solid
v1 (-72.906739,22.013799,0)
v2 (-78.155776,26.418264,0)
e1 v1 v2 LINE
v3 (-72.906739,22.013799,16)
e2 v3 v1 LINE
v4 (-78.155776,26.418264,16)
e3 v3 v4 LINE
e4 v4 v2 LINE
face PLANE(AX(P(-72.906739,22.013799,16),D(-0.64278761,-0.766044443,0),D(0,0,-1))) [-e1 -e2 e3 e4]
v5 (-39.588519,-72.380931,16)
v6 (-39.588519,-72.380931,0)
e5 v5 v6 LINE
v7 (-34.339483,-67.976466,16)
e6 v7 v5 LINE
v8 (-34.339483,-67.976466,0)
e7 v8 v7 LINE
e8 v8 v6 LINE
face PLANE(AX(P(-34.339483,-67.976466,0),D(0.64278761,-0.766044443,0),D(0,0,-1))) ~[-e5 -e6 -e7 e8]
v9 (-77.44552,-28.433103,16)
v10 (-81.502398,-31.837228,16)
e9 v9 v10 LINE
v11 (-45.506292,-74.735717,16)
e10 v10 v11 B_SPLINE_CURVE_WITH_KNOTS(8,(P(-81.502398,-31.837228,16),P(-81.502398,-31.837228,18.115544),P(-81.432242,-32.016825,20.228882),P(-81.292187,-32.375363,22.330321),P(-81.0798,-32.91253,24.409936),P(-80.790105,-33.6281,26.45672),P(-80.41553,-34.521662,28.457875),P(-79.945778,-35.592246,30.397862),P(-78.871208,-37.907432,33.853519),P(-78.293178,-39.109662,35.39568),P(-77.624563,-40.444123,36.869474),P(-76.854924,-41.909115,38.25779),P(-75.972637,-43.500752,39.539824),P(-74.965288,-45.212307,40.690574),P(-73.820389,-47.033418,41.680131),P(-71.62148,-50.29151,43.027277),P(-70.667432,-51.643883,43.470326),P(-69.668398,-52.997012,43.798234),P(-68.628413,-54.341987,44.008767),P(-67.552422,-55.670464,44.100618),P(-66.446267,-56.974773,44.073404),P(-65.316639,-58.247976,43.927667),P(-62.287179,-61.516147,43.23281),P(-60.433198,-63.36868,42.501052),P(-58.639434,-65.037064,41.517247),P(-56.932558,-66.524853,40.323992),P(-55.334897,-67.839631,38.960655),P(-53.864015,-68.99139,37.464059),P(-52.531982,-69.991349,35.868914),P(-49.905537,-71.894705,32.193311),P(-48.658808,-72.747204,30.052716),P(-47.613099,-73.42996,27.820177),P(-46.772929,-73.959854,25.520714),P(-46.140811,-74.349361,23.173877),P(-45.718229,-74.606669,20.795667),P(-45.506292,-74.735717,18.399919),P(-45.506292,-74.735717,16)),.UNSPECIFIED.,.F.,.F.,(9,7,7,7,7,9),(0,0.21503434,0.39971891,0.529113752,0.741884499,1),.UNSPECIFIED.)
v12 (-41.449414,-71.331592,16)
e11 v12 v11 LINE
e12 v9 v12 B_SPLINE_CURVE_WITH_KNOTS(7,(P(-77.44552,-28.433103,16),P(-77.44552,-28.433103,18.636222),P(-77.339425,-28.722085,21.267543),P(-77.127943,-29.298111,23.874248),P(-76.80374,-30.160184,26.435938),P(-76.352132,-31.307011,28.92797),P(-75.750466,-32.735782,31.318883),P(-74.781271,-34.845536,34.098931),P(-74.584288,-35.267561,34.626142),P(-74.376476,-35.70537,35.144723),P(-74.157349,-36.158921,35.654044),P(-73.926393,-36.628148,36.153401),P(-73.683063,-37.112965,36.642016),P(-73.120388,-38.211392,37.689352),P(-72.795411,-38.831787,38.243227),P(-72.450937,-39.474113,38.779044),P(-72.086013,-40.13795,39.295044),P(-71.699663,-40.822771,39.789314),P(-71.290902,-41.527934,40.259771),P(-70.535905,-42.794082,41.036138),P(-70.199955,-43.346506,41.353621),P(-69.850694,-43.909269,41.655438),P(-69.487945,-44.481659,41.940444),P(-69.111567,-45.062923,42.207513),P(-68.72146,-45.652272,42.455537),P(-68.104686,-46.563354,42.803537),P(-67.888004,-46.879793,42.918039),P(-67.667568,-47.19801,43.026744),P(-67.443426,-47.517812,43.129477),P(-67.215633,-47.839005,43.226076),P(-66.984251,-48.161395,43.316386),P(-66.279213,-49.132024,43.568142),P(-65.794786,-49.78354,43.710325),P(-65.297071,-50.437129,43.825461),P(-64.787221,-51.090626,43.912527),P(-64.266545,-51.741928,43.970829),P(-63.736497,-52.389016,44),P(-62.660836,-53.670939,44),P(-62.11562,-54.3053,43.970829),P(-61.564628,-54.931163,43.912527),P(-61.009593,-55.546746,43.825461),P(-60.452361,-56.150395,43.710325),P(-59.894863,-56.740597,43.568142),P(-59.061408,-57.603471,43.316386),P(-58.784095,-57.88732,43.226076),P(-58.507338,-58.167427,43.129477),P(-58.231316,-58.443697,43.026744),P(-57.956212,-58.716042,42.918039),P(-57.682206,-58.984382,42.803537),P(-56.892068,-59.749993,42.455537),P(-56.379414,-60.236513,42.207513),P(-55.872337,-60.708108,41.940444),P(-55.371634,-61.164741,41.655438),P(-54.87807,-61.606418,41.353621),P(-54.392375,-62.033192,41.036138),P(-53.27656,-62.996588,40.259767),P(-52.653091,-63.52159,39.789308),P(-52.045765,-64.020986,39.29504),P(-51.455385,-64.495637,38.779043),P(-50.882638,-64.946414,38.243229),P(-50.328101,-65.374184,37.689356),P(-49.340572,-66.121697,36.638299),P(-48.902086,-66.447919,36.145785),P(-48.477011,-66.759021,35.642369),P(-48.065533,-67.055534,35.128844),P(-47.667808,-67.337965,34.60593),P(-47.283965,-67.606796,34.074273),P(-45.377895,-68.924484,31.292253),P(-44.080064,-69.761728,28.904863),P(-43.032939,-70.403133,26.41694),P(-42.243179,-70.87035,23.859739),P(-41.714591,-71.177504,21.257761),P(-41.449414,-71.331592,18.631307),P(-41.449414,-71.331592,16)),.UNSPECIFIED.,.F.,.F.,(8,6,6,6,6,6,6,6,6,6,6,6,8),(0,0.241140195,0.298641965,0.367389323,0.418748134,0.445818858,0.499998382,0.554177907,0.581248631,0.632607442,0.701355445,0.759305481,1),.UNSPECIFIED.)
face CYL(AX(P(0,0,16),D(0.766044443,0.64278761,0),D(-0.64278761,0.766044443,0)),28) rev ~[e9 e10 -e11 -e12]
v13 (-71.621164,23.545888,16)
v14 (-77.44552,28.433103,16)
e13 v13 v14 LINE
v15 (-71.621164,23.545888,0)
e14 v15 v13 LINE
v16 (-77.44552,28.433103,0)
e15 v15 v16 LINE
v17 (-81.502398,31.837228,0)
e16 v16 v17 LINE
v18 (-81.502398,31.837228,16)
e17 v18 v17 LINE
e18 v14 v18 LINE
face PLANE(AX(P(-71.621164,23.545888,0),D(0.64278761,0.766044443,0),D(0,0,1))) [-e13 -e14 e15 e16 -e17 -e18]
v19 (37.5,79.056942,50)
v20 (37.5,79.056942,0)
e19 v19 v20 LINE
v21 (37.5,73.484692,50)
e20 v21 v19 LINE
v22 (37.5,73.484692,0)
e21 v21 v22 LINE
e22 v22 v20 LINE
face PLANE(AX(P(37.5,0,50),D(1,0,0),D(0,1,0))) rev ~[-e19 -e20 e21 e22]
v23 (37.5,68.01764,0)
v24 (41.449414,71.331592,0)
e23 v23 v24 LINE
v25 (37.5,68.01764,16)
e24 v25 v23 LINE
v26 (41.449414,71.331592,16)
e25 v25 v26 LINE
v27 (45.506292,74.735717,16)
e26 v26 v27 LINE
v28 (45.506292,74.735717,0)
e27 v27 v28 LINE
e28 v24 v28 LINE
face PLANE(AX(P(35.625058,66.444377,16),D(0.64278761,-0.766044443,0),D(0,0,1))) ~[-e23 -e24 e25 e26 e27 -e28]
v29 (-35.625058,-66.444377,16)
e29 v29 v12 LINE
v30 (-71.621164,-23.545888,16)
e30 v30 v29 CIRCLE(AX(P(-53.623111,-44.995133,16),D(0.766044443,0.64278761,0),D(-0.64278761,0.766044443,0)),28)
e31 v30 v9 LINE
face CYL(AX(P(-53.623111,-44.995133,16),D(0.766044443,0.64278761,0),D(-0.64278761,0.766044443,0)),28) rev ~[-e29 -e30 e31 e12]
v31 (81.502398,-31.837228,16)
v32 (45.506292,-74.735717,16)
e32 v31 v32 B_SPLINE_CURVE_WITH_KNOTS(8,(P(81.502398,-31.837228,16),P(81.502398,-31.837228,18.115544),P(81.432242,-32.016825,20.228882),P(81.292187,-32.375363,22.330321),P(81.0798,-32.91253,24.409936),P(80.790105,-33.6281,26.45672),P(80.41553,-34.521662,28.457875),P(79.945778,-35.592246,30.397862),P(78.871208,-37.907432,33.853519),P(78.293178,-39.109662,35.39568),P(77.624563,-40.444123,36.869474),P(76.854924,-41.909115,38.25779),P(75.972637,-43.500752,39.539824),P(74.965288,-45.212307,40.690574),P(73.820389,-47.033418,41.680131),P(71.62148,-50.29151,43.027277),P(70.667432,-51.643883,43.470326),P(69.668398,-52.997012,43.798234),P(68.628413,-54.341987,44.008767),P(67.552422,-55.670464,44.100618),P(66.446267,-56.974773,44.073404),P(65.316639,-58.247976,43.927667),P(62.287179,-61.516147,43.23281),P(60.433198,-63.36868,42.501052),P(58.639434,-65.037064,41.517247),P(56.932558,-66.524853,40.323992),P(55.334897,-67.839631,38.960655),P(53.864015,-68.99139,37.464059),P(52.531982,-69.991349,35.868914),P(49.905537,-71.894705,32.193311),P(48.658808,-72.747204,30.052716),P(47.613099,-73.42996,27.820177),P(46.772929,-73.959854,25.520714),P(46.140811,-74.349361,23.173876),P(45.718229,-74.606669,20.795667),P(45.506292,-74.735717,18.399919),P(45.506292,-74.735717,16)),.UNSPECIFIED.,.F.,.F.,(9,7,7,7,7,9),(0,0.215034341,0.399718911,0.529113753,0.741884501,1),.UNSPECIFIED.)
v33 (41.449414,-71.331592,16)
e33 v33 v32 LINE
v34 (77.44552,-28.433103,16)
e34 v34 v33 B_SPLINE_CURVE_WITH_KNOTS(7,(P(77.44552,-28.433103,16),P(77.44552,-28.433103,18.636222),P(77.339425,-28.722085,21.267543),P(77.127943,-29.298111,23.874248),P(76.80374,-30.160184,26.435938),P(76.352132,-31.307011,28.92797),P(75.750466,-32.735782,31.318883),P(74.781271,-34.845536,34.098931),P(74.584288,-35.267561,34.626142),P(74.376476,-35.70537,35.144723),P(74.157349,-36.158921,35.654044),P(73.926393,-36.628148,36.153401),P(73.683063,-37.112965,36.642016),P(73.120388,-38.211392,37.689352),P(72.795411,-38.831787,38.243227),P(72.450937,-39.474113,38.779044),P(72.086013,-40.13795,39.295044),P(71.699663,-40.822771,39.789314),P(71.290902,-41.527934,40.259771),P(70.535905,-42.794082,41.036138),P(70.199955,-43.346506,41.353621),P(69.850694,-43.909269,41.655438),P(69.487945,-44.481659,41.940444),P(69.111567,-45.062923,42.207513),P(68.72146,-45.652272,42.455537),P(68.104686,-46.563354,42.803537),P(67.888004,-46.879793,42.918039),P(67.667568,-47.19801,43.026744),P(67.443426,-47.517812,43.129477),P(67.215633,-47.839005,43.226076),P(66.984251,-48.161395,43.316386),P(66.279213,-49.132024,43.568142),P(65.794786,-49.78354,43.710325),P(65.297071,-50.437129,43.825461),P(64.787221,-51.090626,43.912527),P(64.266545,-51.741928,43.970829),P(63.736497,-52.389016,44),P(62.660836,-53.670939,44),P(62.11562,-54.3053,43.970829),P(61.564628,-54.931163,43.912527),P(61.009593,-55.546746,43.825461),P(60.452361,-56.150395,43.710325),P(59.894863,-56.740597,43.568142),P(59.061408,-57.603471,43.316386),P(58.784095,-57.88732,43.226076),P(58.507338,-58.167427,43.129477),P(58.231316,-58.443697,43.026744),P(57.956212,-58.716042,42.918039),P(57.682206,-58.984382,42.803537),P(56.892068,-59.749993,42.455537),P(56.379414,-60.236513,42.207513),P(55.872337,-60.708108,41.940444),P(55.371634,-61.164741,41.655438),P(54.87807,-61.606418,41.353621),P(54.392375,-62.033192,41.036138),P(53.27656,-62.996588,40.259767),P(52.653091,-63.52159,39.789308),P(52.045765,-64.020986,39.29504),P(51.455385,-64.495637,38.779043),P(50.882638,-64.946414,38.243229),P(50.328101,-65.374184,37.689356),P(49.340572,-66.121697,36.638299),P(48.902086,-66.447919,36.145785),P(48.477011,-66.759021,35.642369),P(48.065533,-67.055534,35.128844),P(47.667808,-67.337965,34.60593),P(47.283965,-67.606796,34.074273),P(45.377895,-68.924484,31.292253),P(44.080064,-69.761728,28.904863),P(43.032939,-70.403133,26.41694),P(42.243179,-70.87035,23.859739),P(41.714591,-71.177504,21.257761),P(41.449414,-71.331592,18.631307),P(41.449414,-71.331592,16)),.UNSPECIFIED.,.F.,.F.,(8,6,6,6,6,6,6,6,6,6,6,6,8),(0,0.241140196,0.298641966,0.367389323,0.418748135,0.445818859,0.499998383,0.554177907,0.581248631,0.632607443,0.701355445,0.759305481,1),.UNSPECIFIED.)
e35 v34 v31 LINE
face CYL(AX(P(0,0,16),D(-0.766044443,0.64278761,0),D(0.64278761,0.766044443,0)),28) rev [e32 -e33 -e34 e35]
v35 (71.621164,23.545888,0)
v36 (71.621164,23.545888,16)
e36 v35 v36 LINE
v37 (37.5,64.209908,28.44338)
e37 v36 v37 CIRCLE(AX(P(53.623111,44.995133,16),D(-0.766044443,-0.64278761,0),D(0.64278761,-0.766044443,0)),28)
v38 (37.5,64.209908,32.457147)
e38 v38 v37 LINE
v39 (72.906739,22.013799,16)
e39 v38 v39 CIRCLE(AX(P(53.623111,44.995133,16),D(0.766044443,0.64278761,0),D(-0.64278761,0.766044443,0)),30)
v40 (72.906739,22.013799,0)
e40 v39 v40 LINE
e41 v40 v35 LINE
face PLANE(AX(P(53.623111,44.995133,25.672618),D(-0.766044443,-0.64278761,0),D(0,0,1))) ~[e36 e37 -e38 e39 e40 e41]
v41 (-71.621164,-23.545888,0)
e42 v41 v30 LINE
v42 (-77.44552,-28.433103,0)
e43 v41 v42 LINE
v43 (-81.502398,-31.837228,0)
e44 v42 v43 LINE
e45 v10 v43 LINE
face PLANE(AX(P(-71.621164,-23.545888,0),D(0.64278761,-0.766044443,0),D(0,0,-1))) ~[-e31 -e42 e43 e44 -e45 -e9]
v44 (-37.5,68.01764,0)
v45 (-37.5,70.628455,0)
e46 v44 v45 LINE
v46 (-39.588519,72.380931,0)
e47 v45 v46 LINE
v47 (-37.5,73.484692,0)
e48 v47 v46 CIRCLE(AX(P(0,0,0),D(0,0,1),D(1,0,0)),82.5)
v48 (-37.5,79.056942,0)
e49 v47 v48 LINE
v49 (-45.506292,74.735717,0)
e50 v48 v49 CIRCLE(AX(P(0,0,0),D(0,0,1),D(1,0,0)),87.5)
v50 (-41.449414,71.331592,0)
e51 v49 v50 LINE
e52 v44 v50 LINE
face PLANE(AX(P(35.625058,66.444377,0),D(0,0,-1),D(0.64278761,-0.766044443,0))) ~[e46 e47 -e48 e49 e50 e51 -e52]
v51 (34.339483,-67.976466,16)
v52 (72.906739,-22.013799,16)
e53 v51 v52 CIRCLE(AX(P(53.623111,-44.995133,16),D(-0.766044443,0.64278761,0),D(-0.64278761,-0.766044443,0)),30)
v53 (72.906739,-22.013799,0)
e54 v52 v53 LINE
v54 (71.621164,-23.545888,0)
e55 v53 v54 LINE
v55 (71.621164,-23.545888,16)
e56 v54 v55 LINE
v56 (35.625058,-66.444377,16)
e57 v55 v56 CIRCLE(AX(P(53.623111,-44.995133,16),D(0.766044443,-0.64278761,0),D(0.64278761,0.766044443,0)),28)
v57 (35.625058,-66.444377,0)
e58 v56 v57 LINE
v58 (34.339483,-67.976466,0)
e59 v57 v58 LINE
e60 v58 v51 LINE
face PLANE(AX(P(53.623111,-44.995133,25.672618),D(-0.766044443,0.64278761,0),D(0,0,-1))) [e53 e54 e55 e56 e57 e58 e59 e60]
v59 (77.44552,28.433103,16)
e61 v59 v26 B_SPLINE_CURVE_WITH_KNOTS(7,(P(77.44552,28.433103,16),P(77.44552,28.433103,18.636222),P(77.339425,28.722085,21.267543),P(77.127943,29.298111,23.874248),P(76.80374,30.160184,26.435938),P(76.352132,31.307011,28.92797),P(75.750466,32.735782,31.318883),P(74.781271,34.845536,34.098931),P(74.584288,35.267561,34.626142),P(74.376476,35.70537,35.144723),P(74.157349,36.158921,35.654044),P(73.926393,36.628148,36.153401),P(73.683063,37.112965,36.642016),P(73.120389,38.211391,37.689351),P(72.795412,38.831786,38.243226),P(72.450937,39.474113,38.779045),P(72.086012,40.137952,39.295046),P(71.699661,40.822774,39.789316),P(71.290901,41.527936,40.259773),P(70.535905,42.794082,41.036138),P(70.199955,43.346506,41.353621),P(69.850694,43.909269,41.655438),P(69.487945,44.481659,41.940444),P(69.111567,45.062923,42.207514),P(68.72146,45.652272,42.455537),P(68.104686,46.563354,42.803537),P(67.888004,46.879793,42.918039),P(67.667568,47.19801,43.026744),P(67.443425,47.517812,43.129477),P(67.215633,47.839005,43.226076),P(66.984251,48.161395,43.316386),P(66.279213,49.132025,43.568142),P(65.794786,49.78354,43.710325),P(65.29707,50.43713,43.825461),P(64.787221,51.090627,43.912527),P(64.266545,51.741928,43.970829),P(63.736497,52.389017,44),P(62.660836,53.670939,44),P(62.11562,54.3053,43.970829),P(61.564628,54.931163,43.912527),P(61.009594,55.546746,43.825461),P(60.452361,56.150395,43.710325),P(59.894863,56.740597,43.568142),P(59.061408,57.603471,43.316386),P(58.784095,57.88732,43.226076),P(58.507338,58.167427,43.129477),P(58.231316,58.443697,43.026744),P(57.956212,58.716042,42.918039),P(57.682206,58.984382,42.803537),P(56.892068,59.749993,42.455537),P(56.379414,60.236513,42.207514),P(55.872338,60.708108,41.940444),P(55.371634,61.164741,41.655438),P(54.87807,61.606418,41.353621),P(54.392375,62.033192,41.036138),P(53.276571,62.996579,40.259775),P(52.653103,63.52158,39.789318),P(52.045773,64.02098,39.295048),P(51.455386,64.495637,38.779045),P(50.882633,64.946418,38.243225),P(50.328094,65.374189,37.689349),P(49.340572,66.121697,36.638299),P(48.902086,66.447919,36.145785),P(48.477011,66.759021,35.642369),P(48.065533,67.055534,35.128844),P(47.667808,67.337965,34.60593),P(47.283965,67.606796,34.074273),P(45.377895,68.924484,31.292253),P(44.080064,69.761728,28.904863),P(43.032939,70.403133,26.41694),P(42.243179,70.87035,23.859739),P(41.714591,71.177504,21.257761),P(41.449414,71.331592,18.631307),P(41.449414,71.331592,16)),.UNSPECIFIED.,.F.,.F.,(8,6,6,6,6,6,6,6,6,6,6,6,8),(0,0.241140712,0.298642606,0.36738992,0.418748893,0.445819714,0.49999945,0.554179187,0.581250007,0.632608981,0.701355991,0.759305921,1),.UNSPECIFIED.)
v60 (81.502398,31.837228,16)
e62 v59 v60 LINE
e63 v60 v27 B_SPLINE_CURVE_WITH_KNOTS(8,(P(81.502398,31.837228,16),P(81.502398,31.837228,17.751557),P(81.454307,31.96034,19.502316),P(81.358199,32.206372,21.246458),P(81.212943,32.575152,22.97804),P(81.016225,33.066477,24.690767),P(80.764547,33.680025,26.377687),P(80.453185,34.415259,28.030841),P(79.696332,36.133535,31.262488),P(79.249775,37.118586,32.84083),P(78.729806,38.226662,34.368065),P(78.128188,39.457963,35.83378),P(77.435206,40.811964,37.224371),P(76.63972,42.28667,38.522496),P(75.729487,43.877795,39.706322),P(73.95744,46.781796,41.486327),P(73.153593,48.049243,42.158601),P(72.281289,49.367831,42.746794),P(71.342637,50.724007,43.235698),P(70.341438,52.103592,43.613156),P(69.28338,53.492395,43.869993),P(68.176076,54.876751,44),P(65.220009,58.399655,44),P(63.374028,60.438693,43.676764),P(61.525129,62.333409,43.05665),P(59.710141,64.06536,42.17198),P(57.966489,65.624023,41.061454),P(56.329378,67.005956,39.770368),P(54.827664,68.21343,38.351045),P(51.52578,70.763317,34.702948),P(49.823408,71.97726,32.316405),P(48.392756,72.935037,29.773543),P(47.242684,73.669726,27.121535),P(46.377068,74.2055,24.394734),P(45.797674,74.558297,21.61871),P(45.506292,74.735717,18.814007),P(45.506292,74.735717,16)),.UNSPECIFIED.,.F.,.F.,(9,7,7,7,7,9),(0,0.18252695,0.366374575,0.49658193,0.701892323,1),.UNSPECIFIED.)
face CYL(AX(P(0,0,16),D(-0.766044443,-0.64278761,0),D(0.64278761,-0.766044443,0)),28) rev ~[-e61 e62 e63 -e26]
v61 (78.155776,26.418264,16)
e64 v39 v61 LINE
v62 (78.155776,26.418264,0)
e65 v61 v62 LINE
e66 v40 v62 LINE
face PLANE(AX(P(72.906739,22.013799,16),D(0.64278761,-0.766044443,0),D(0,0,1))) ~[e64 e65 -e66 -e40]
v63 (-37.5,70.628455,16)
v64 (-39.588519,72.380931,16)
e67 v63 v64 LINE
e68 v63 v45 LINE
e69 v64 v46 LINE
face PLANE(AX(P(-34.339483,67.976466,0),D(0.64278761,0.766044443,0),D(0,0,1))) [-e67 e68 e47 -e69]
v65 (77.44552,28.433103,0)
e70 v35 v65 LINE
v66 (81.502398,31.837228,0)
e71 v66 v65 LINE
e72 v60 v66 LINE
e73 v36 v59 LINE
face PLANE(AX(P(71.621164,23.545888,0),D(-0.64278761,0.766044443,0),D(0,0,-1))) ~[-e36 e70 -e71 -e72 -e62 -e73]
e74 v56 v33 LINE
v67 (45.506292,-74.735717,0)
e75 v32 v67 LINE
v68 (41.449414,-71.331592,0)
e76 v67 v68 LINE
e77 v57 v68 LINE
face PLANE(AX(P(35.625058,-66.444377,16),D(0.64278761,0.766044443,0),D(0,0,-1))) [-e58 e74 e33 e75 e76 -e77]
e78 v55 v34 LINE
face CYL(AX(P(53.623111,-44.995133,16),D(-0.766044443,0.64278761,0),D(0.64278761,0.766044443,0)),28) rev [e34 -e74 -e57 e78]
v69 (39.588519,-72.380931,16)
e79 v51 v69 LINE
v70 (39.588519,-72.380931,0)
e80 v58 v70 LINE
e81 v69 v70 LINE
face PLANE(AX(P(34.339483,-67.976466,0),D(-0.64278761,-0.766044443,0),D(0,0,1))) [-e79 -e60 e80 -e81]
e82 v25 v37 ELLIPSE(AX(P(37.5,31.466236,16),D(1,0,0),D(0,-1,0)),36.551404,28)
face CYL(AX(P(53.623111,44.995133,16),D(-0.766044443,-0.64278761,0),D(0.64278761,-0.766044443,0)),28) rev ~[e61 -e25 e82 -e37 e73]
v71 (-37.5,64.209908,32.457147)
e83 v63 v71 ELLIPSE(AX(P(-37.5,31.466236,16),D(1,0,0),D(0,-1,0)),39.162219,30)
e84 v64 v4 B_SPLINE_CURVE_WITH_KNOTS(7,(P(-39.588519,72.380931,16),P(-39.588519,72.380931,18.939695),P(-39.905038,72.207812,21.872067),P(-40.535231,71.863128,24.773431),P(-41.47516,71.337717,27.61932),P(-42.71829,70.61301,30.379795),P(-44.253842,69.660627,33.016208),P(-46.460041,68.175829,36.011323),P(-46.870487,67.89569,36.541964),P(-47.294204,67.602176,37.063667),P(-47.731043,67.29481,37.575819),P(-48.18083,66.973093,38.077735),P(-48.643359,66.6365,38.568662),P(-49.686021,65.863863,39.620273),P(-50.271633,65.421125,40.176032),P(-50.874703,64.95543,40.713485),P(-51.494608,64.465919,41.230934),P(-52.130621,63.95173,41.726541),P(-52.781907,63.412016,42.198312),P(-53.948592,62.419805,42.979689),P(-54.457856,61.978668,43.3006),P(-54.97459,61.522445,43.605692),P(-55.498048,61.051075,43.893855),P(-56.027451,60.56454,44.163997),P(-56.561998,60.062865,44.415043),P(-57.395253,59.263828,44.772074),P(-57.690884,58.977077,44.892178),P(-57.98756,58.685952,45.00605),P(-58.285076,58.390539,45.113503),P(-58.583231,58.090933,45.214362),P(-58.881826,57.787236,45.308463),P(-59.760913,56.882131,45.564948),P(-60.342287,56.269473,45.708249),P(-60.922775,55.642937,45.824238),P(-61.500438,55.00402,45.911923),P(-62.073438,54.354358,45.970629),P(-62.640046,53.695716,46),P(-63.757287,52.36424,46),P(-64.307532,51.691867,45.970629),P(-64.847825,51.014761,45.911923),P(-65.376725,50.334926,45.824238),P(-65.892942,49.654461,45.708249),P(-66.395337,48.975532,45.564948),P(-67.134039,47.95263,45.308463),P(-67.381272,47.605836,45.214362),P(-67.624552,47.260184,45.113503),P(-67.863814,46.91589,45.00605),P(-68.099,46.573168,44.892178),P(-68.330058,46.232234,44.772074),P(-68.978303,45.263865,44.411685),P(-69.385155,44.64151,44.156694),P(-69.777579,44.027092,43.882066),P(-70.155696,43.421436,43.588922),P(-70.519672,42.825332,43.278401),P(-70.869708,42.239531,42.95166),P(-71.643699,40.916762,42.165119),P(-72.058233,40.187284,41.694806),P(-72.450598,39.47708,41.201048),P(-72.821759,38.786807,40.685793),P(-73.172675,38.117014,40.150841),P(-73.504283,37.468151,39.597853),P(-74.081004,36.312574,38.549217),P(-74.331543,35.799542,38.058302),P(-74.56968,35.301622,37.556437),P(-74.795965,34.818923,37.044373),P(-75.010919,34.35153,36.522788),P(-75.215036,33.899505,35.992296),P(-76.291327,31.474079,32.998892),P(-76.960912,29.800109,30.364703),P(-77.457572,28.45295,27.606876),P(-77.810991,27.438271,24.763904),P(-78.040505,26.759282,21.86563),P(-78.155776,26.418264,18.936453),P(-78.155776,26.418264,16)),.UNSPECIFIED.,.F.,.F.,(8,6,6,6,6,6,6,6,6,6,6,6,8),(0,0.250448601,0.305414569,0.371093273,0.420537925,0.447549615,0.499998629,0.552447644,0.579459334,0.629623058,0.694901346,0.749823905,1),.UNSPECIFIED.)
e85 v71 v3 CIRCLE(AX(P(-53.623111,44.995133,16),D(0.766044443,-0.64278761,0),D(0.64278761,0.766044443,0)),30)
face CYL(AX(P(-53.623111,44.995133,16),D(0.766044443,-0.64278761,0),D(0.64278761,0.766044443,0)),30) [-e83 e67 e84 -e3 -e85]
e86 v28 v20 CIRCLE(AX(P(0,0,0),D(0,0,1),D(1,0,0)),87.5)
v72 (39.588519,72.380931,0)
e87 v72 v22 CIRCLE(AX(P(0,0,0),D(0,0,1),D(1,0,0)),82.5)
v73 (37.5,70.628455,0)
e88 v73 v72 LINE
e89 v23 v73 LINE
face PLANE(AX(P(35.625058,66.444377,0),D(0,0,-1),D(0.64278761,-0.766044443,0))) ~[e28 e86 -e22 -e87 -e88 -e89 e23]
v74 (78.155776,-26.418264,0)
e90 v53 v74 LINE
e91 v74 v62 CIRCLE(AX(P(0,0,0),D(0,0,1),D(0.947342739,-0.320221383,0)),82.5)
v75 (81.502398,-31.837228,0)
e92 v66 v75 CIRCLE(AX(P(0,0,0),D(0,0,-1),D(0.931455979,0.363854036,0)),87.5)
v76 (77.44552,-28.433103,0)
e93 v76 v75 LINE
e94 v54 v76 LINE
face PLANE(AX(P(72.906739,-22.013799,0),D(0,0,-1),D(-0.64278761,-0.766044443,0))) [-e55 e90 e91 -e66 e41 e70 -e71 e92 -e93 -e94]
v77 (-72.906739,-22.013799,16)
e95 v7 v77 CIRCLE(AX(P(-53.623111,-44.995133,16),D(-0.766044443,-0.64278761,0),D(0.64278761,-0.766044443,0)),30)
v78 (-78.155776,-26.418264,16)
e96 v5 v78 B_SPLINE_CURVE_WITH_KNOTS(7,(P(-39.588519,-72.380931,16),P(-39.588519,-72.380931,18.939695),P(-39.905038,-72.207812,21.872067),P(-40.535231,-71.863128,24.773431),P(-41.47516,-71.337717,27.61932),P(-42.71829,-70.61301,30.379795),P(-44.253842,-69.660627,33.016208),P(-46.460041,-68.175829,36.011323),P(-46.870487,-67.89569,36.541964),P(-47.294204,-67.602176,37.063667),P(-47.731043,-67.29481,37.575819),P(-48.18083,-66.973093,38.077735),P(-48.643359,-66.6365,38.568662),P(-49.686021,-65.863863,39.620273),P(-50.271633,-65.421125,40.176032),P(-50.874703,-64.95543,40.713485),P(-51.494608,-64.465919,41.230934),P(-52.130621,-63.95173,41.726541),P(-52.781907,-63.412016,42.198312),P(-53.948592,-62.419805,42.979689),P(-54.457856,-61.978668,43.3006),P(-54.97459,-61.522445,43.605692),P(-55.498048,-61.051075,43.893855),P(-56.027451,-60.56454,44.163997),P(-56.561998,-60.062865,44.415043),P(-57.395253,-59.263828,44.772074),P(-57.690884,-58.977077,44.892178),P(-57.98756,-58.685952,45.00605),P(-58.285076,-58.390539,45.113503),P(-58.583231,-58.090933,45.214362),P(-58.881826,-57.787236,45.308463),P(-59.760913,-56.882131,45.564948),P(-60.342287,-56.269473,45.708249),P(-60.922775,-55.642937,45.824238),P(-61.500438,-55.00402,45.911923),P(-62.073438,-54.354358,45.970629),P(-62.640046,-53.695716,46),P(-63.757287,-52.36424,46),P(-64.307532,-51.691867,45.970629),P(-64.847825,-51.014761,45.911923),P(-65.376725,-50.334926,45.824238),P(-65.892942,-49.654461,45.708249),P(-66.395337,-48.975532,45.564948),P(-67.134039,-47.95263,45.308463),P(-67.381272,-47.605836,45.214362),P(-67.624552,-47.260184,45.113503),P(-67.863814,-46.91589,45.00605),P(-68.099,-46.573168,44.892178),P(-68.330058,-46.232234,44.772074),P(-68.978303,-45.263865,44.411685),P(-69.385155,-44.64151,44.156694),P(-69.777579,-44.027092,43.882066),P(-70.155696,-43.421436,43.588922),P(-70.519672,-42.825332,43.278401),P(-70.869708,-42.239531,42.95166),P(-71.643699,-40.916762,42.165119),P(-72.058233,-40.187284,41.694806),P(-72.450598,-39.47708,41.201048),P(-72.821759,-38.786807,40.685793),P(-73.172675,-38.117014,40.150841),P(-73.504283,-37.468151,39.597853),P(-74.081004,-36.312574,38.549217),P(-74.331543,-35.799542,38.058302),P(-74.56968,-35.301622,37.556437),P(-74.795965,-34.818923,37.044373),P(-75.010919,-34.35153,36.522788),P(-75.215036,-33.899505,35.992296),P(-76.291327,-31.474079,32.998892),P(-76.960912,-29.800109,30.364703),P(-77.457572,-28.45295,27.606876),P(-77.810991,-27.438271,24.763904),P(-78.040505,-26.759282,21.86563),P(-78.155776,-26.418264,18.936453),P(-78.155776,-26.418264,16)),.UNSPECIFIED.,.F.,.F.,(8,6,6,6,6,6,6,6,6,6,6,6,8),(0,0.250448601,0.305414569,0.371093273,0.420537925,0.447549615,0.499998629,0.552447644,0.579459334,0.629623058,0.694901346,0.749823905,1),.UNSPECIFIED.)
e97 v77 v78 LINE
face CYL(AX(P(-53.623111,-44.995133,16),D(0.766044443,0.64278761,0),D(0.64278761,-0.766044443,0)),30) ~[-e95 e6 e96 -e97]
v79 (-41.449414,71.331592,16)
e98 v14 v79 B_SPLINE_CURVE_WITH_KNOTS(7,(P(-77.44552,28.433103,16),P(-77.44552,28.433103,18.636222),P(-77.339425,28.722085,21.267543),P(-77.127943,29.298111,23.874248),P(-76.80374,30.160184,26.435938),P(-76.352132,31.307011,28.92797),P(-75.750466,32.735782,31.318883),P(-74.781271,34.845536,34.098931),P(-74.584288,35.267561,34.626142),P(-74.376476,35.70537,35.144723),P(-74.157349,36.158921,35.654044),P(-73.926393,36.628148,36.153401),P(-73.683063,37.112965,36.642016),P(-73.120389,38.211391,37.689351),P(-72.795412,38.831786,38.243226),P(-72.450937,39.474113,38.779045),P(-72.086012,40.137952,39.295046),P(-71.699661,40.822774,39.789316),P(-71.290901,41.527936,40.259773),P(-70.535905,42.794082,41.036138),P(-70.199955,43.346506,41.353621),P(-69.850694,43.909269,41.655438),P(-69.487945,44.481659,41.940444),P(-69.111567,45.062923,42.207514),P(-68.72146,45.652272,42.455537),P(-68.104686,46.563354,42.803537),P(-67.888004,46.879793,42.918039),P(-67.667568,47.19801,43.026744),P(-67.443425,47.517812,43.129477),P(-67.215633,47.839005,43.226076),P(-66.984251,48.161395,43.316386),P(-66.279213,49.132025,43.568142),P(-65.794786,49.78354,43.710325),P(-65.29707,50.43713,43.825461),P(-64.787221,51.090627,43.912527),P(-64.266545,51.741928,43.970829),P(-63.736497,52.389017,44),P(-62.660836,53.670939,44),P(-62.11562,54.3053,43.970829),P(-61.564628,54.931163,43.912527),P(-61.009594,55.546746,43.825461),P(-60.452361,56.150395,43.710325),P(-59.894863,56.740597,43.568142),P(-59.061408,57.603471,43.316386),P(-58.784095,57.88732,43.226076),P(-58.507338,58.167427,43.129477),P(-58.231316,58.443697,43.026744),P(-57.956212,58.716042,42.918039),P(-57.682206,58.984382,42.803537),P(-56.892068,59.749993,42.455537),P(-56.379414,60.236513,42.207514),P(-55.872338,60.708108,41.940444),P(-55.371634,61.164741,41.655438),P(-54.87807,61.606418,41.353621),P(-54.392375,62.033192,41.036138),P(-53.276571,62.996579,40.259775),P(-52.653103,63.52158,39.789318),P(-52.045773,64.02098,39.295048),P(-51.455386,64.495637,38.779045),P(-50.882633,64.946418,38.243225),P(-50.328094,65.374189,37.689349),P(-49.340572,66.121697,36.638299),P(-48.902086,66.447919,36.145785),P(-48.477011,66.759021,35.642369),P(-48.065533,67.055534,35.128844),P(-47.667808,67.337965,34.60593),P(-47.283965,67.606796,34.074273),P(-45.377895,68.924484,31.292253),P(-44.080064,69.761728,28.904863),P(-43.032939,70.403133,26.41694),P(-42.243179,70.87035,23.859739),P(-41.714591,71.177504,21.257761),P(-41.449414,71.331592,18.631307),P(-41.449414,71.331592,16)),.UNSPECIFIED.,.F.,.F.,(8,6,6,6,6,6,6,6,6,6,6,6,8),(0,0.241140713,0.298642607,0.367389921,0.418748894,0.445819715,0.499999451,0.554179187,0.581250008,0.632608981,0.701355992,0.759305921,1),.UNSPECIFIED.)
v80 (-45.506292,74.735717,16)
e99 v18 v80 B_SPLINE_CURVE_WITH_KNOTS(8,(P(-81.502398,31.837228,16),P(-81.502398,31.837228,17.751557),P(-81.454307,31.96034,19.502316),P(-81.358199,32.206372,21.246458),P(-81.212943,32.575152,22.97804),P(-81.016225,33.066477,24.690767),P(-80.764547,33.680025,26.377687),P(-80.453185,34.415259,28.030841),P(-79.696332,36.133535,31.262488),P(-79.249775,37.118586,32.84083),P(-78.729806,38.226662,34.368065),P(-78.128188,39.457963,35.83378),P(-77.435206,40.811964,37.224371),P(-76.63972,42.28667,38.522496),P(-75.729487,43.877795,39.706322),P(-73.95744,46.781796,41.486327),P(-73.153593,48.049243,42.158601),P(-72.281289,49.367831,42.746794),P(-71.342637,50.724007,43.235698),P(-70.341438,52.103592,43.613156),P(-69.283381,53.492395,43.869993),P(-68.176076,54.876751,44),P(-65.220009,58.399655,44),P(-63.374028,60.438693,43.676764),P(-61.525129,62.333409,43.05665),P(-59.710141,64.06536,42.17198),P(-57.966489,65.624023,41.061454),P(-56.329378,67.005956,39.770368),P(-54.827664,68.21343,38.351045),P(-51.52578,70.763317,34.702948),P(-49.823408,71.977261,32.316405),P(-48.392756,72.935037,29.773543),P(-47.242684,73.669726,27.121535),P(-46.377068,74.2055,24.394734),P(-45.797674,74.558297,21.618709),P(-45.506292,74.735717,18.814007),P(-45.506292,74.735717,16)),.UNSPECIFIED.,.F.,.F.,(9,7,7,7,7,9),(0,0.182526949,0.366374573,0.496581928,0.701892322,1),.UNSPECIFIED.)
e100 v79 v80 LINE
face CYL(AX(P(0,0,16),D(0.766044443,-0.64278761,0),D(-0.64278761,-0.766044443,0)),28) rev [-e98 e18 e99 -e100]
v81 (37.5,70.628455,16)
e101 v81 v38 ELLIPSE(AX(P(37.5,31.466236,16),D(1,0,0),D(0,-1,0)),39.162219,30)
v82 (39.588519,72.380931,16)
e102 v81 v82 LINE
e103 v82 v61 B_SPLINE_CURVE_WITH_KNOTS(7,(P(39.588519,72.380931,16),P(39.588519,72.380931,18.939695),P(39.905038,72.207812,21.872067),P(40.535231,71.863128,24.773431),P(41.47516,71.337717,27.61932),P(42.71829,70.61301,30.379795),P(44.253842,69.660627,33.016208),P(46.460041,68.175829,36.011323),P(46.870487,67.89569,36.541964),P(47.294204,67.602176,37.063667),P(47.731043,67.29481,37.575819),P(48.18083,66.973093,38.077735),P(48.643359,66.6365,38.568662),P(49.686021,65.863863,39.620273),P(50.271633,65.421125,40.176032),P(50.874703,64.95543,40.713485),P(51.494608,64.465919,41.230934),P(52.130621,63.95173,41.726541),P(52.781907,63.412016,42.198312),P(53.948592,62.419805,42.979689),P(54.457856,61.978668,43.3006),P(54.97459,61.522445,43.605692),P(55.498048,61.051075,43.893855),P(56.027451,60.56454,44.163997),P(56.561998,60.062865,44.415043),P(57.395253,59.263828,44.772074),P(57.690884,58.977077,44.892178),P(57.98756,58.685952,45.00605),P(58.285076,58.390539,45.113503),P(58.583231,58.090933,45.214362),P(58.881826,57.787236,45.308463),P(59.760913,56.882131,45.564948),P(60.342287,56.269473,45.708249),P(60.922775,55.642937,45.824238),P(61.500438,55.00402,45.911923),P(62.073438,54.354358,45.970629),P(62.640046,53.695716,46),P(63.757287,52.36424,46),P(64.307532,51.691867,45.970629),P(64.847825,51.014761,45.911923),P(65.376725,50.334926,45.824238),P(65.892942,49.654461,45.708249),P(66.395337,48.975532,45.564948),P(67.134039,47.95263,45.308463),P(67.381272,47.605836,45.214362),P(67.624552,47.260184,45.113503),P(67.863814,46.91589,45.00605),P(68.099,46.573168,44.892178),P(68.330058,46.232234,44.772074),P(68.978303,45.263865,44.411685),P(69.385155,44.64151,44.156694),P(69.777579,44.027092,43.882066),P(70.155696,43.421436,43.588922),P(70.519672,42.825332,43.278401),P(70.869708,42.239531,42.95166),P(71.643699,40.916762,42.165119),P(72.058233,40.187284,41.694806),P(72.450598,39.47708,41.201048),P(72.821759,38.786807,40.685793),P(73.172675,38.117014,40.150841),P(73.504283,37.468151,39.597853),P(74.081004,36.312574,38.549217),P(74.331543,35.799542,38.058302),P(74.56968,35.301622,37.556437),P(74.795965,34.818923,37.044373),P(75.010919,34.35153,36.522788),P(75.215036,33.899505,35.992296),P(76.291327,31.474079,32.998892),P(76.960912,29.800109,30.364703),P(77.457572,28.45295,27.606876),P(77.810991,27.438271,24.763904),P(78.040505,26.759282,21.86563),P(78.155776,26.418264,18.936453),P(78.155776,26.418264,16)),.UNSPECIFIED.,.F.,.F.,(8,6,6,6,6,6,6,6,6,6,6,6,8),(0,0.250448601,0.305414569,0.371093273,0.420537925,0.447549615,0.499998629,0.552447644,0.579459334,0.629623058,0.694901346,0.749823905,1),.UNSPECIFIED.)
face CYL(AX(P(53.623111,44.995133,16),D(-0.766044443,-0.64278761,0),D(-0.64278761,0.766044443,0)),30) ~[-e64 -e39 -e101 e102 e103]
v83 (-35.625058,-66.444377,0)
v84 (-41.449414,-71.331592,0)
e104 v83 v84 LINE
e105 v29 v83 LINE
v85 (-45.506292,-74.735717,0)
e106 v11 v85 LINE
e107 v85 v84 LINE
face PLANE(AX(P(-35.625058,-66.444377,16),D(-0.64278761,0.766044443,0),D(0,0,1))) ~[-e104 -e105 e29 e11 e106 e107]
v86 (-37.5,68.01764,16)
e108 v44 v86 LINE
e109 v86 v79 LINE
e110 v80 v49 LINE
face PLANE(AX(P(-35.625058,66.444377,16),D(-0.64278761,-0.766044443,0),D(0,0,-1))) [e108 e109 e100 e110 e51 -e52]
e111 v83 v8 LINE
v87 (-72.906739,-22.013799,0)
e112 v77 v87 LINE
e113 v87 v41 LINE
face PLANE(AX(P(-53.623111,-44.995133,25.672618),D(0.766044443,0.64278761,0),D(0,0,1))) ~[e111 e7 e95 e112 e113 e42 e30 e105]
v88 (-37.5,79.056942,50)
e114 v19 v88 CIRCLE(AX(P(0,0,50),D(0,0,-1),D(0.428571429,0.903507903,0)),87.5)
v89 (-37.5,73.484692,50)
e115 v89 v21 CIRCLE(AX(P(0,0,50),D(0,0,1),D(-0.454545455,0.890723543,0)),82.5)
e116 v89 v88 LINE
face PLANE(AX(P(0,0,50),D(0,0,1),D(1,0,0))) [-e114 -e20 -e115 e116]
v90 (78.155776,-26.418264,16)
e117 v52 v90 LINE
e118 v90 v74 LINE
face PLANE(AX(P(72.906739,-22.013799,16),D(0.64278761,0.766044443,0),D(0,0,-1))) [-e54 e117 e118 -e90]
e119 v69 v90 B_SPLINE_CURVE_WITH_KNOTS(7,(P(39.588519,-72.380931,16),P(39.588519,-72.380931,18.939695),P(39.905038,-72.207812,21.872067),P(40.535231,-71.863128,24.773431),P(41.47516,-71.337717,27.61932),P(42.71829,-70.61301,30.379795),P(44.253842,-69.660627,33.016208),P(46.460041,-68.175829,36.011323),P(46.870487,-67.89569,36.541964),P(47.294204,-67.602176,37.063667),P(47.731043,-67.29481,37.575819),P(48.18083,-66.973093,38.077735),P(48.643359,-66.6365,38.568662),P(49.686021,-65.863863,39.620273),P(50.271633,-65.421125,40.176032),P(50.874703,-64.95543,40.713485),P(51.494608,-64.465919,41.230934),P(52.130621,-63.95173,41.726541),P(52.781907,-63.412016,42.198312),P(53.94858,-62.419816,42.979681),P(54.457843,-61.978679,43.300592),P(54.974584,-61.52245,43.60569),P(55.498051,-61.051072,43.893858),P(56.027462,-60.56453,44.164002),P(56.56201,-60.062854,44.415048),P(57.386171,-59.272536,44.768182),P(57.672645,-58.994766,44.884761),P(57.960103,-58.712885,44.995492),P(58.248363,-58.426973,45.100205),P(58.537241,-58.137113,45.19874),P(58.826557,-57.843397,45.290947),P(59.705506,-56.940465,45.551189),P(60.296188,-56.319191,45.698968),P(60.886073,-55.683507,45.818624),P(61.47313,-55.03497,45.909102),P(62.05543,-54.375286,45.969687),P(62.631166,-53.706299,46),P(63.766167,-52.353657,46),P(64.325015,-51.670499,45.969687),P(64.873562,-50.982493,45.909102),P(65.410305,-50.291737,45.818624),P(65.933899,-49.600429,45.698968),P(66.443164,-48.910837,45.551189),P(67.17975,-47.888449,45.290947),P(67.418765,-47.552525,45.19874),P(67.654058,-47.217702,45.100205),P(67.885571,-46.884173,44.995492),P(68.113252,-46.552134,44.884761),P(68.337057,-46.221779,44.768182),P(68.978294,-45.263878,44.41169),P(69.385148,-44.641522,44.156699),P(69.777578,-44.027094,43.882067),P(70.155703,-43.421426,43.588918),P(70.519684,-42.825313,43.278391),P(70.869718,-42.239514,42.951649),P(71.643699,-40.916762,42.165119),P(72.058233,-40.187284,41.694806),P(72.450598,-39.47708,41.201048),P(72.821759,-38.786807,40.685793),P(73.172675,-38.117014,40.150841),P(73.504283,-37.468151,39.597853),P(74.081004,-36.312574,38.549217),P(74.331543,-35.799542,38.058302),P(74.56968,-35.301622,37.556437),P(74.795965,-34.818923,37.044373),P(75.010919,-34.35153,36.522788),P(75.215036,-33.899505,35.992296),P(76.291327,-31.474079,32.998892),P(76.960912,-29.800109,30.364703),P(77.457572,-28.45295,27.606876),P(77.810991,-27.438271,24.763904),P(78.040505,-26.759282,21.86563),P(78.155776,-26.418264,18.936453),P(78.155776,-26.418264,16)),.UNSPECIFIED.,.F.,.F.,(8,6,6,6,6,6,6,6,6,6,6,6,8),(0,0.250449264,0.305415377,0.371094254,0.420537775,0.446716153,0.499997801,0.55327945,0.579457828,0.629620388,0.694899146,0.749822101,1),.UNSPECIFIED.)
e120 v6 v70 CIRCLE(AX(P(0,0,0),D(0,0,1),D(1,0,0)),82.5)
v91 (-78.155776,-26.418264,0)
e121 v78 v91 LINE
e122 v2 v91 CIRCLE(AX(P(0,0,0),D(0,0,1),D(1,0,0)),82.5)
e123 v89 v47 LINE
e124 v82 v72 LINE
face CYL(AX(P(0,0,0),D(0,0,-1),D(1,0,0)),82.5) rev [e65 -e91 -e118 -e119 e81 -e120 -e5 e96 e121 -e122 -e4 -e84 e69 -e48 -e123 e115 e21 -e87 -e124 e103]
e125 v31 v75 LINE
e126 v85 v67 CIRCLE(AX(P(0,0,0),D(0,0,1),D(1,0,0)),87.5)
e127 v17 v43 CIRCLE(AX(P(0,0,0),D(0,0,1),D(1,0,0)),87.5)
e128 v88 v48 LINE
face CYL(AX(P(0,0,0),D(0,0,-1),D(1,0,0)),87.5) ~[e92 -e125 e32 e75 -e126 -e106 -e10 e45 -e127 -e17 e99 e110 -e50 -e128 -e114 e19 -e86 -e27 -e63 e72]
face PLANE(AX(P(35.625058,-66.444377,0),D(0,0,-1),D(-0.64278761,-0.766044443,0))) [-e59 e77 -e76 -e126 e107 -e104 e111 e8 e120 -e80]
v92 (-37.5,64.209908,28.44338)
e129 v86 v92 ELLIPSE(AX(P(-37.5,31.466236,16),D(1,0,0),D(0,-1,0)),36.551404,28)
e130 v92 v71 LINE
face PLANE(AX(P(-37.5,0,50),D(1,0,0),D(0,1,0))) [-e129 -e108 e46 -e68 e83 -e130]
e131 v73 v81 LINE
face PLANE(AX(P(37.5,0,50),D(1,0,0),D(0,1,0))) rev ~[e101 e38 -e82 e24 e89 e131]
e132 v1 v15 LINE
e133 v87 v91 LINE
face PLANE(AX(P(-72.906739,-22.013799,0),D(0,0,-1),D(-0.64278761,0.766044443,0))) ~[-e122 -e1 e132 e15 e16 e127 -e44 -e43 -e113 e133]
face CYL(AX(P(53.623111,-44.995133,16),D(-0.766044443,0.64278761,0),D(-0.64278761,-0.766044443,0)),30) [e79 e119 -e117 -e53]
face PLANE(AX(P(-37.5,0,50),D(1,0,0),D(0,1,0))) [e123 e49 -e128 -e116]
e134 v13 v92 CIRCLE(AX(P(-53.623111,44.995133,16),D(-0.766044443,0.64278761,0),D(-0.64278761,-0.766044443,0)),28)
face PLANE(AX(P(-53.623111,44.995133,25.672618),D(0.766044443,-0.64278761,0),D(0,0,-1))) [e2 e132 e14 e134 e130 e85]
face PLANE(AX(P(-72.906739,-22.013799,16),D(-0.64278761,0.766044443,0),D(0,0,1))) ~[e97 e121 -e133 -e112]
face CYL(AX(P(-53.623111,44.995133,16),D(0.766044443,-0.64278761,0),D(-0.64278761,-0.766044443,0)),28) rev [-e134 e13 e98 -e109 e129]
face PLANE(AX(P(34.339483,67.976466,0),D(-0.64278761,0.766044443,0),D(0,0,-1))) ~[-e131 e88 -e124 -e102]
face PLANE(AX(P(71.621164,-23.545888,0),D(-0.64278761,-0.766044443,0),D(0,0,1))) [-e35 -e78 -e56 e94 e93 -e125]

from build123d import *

# Parameters (mm, degrees)
SKETCH1_R                                     = 87.5
SKETCH1_R_2                                   = 82.5
BOSS_EXTRUDE1_DEPTH                           = 50
CUT_EXTRUDE1_DEPTH                            = 134.46347815
BOSS_EXTRUDE2_REACH                           = 201.927
BOSS_EXTRUDE2_END_RADIUS                      = 82.5
MIRROR1_AT_THE_SECOND_PLANE_COPY_1_DEPTH      = 134.46347815
MIRROR1_AT_THE_SECOND_PLANE_COPY_2_REACH      = 201.927
MIRROR1_AT_THE_SECOND_PLANE_COPY_2_END_RADIUS = 82.5
SKETCH4_W                                     = 75
SKETCH4_H                                     = 150.506250548
CUT_EXTRUDE2_DEPTH                            = 134.463478319


with BuildPart() as part:
    # Sketch1 → Boss-Extrude1 (new body)
    with BuildSketch(Plane.XY):
        Circle(SKETCH1_R)
        Circle(SKETCH1_R_2, mode=Mode.SUBTRACT)
    extrude(amount=BOSS_EXTRUDE1_DEPTH)

    # Sketch3 → Cut-Extrude1 (cut, through all)
    with BuildSketch(Plane(origin=(0, 0, 0), x_dir=(0, 0, 1), z_dir=(-0.7660444431189792, 0.6427876096865379, 0))):
        with BuildLine():
            Line((16, 28), (-21.315886337, 28))
            Line((-21.315886337, 28), (-21.315886337, -28))
            Line((-21.315886337, -28), (16, -28))
            ThreePointArc((16, -28), (44, 0), (16, 28))
        make_face()
    cut_extrude1 = extrude(amount=CUT_EXTRUDE1_DEPTH, mode=Mode.SUBTRACT)

    # Boss-Extrude2: up to this cylinder (the profile starts inside it)
    boss_extrude2_end = Plane(origin=(0, 0, 8), z_dir=(0, 0, -1)) * Cylinder(BOSS_EXTRUDE2_END_RADIUS, 569.854, mode=Mode.PRIVATE)
    # Sketch5 → Boss-Extrude2 (add, up to the surface)
    with BuildSketch(Plane(origin=(-53.623111018, 44.995132678, 0), x_dir=(0, 0, 1), z_dir=(-0.7660444431189792, 0.6427876096865379, 0)), mode=Mode.PRIVATE) as boss_extrude2_sk1:
        with BuildLine():
            Line((0, -28), (16, -28))
            ThreePointArc((16, -28), (44, 0), (16, 28))
            Line((16, 28), (0, 28))
            Line((0, 28), (0, 30))
            Line((0, 30), (16, 30))
            ThreePointArc((16, 30), (46, 0), (16, -30))
            Line((16, -30), (0, -30))
            Line((0, -30), (0, -28))
        make_face()
    boss_extrude2_tool1 = extrude(boss_extrude2_sk1.sketch, amount=BOSS_EXTRUDE2_REACH, mode=Mode.PRIVATE) & boss_extrude2_end
    boss_extrude2 = boss_extrude2_tool1.solids().sort_by_distance((-72.420765, 22.592961, 8))[0]
    add(boss_extrude2)

    # Mirror1: Cut-Extrude1, Boss-Extrude2 across plane
    add(cut_extrude1.mirror(Plane(origin=(0, 0, 0), x_dir=(0, 0, 1), z_dir=(1, 0, 0))), mode=Mode.SUBTRACT)
    add(boss_extrude2.mirror(Plane(origin=(0, 0, 0), x_dir=(0, 0, 1), z_dir=(1, 0, 0))))

    # Mirror1 at the second plane: Cut-Extrude1, Boss-Extrude2 across plane
    add(cut_extrude1.mirror(Plane.ZX), mode=Mode.SUBTRACT)
    add(boss_extrude2.mirror(Plane.ZX))

    # Mirror1 at the second plane copy 1 sketc → Mirror1 at the second plane copy 1 (cut, through all)
    with BuildSketch(Plane(origin=(0, 0, 0), x_dir=(0, 0, 1), z_dir=(0.7660444431189792, -0.6427876096865379, 0))):
        with BuildLine():
            Line((16, 28), (-21.315886337, 28))
            Line((-21.315886337, 28), (-21.315886337, -28))
            Line((-21.315886337, -28), (16, -28))
            ThreePointArc((16, -28), (44, 0), (16, 28))
        make_face()
    extrude(amount=MIRROR1_AT_THE_SECOND_PLANE_COPY_1_DEPTH, mode=Mode.SUBTRACT)

    # Mirror1 at the second plane copy 2: up to this cylinder (the profile starts inside it)
    mirror1_at_the_second_plane_copy_2_end = Plane(origin=(0, 0, 8), z_dir=(0, 0, -1)) * Cylinder(MIRROR1_AT_THE_SECOND_PLANE_COPY_2_END_RADIUS, 569.854, mode=Mode.PRIVATE)
    # Mirror1 at the second plane copy 2 sketc → Mirror1 at the second plane copy 2 (add, up to the surface)
    with BuildSketch(Plane(origin=(53.623111018, -44.995132678, 0), x_dir=(0, 0, 1), z_dir=(0.7660444431189792, -0.6427876096865379, 0)), mode=Mode.PRIVATE) as mirror1_at_the_second_plane_copy_2_sk1:
        with BuildLine():
            Line((0, -28), (16, -28))
            ThreePointArc((16, -28), (44, 0), (16, 28))
            Line((16, 28), (0, 28))
            Line((0, 28), (0, 30))
            Line((0, 30), (16, 30))
            ThreePointArc((16, 30), (46, 0), (16, -30))
            Line((16, -30), (0, -30))
            Line((0, -30), (0, -28))
        make_face()
    mirror1_at_the_second_plane_copy_2_tool1 = extrude(mirror1_at_the_second_plane_copy_2_sk1.sketch, amount=MIRROR1_AT_THE_SECOND_PLANE_COPY_2_REACH, mode=Mode.PRIVATE) & mirror1_at_the_second_plane_copy_2_end
    add(mirror1_at_the_second_plane_copy_2_tool1.solids().sort_by_distance((-72.420765, 22.592961, 8))[0])

    # Sketch4 → Cut-Extrude2 (cut, through all)
    with BuildSketch(Plane.XY.offset(50)):
        with Locations((0, 75.253125274)):
            Rectangle(SKETCH4_W, SKETCH4_H)
    extrude(amount=-CUT_EXTRUDE2_DEPTH, mode=Mode.SUBTRACT)


solid = part.part
